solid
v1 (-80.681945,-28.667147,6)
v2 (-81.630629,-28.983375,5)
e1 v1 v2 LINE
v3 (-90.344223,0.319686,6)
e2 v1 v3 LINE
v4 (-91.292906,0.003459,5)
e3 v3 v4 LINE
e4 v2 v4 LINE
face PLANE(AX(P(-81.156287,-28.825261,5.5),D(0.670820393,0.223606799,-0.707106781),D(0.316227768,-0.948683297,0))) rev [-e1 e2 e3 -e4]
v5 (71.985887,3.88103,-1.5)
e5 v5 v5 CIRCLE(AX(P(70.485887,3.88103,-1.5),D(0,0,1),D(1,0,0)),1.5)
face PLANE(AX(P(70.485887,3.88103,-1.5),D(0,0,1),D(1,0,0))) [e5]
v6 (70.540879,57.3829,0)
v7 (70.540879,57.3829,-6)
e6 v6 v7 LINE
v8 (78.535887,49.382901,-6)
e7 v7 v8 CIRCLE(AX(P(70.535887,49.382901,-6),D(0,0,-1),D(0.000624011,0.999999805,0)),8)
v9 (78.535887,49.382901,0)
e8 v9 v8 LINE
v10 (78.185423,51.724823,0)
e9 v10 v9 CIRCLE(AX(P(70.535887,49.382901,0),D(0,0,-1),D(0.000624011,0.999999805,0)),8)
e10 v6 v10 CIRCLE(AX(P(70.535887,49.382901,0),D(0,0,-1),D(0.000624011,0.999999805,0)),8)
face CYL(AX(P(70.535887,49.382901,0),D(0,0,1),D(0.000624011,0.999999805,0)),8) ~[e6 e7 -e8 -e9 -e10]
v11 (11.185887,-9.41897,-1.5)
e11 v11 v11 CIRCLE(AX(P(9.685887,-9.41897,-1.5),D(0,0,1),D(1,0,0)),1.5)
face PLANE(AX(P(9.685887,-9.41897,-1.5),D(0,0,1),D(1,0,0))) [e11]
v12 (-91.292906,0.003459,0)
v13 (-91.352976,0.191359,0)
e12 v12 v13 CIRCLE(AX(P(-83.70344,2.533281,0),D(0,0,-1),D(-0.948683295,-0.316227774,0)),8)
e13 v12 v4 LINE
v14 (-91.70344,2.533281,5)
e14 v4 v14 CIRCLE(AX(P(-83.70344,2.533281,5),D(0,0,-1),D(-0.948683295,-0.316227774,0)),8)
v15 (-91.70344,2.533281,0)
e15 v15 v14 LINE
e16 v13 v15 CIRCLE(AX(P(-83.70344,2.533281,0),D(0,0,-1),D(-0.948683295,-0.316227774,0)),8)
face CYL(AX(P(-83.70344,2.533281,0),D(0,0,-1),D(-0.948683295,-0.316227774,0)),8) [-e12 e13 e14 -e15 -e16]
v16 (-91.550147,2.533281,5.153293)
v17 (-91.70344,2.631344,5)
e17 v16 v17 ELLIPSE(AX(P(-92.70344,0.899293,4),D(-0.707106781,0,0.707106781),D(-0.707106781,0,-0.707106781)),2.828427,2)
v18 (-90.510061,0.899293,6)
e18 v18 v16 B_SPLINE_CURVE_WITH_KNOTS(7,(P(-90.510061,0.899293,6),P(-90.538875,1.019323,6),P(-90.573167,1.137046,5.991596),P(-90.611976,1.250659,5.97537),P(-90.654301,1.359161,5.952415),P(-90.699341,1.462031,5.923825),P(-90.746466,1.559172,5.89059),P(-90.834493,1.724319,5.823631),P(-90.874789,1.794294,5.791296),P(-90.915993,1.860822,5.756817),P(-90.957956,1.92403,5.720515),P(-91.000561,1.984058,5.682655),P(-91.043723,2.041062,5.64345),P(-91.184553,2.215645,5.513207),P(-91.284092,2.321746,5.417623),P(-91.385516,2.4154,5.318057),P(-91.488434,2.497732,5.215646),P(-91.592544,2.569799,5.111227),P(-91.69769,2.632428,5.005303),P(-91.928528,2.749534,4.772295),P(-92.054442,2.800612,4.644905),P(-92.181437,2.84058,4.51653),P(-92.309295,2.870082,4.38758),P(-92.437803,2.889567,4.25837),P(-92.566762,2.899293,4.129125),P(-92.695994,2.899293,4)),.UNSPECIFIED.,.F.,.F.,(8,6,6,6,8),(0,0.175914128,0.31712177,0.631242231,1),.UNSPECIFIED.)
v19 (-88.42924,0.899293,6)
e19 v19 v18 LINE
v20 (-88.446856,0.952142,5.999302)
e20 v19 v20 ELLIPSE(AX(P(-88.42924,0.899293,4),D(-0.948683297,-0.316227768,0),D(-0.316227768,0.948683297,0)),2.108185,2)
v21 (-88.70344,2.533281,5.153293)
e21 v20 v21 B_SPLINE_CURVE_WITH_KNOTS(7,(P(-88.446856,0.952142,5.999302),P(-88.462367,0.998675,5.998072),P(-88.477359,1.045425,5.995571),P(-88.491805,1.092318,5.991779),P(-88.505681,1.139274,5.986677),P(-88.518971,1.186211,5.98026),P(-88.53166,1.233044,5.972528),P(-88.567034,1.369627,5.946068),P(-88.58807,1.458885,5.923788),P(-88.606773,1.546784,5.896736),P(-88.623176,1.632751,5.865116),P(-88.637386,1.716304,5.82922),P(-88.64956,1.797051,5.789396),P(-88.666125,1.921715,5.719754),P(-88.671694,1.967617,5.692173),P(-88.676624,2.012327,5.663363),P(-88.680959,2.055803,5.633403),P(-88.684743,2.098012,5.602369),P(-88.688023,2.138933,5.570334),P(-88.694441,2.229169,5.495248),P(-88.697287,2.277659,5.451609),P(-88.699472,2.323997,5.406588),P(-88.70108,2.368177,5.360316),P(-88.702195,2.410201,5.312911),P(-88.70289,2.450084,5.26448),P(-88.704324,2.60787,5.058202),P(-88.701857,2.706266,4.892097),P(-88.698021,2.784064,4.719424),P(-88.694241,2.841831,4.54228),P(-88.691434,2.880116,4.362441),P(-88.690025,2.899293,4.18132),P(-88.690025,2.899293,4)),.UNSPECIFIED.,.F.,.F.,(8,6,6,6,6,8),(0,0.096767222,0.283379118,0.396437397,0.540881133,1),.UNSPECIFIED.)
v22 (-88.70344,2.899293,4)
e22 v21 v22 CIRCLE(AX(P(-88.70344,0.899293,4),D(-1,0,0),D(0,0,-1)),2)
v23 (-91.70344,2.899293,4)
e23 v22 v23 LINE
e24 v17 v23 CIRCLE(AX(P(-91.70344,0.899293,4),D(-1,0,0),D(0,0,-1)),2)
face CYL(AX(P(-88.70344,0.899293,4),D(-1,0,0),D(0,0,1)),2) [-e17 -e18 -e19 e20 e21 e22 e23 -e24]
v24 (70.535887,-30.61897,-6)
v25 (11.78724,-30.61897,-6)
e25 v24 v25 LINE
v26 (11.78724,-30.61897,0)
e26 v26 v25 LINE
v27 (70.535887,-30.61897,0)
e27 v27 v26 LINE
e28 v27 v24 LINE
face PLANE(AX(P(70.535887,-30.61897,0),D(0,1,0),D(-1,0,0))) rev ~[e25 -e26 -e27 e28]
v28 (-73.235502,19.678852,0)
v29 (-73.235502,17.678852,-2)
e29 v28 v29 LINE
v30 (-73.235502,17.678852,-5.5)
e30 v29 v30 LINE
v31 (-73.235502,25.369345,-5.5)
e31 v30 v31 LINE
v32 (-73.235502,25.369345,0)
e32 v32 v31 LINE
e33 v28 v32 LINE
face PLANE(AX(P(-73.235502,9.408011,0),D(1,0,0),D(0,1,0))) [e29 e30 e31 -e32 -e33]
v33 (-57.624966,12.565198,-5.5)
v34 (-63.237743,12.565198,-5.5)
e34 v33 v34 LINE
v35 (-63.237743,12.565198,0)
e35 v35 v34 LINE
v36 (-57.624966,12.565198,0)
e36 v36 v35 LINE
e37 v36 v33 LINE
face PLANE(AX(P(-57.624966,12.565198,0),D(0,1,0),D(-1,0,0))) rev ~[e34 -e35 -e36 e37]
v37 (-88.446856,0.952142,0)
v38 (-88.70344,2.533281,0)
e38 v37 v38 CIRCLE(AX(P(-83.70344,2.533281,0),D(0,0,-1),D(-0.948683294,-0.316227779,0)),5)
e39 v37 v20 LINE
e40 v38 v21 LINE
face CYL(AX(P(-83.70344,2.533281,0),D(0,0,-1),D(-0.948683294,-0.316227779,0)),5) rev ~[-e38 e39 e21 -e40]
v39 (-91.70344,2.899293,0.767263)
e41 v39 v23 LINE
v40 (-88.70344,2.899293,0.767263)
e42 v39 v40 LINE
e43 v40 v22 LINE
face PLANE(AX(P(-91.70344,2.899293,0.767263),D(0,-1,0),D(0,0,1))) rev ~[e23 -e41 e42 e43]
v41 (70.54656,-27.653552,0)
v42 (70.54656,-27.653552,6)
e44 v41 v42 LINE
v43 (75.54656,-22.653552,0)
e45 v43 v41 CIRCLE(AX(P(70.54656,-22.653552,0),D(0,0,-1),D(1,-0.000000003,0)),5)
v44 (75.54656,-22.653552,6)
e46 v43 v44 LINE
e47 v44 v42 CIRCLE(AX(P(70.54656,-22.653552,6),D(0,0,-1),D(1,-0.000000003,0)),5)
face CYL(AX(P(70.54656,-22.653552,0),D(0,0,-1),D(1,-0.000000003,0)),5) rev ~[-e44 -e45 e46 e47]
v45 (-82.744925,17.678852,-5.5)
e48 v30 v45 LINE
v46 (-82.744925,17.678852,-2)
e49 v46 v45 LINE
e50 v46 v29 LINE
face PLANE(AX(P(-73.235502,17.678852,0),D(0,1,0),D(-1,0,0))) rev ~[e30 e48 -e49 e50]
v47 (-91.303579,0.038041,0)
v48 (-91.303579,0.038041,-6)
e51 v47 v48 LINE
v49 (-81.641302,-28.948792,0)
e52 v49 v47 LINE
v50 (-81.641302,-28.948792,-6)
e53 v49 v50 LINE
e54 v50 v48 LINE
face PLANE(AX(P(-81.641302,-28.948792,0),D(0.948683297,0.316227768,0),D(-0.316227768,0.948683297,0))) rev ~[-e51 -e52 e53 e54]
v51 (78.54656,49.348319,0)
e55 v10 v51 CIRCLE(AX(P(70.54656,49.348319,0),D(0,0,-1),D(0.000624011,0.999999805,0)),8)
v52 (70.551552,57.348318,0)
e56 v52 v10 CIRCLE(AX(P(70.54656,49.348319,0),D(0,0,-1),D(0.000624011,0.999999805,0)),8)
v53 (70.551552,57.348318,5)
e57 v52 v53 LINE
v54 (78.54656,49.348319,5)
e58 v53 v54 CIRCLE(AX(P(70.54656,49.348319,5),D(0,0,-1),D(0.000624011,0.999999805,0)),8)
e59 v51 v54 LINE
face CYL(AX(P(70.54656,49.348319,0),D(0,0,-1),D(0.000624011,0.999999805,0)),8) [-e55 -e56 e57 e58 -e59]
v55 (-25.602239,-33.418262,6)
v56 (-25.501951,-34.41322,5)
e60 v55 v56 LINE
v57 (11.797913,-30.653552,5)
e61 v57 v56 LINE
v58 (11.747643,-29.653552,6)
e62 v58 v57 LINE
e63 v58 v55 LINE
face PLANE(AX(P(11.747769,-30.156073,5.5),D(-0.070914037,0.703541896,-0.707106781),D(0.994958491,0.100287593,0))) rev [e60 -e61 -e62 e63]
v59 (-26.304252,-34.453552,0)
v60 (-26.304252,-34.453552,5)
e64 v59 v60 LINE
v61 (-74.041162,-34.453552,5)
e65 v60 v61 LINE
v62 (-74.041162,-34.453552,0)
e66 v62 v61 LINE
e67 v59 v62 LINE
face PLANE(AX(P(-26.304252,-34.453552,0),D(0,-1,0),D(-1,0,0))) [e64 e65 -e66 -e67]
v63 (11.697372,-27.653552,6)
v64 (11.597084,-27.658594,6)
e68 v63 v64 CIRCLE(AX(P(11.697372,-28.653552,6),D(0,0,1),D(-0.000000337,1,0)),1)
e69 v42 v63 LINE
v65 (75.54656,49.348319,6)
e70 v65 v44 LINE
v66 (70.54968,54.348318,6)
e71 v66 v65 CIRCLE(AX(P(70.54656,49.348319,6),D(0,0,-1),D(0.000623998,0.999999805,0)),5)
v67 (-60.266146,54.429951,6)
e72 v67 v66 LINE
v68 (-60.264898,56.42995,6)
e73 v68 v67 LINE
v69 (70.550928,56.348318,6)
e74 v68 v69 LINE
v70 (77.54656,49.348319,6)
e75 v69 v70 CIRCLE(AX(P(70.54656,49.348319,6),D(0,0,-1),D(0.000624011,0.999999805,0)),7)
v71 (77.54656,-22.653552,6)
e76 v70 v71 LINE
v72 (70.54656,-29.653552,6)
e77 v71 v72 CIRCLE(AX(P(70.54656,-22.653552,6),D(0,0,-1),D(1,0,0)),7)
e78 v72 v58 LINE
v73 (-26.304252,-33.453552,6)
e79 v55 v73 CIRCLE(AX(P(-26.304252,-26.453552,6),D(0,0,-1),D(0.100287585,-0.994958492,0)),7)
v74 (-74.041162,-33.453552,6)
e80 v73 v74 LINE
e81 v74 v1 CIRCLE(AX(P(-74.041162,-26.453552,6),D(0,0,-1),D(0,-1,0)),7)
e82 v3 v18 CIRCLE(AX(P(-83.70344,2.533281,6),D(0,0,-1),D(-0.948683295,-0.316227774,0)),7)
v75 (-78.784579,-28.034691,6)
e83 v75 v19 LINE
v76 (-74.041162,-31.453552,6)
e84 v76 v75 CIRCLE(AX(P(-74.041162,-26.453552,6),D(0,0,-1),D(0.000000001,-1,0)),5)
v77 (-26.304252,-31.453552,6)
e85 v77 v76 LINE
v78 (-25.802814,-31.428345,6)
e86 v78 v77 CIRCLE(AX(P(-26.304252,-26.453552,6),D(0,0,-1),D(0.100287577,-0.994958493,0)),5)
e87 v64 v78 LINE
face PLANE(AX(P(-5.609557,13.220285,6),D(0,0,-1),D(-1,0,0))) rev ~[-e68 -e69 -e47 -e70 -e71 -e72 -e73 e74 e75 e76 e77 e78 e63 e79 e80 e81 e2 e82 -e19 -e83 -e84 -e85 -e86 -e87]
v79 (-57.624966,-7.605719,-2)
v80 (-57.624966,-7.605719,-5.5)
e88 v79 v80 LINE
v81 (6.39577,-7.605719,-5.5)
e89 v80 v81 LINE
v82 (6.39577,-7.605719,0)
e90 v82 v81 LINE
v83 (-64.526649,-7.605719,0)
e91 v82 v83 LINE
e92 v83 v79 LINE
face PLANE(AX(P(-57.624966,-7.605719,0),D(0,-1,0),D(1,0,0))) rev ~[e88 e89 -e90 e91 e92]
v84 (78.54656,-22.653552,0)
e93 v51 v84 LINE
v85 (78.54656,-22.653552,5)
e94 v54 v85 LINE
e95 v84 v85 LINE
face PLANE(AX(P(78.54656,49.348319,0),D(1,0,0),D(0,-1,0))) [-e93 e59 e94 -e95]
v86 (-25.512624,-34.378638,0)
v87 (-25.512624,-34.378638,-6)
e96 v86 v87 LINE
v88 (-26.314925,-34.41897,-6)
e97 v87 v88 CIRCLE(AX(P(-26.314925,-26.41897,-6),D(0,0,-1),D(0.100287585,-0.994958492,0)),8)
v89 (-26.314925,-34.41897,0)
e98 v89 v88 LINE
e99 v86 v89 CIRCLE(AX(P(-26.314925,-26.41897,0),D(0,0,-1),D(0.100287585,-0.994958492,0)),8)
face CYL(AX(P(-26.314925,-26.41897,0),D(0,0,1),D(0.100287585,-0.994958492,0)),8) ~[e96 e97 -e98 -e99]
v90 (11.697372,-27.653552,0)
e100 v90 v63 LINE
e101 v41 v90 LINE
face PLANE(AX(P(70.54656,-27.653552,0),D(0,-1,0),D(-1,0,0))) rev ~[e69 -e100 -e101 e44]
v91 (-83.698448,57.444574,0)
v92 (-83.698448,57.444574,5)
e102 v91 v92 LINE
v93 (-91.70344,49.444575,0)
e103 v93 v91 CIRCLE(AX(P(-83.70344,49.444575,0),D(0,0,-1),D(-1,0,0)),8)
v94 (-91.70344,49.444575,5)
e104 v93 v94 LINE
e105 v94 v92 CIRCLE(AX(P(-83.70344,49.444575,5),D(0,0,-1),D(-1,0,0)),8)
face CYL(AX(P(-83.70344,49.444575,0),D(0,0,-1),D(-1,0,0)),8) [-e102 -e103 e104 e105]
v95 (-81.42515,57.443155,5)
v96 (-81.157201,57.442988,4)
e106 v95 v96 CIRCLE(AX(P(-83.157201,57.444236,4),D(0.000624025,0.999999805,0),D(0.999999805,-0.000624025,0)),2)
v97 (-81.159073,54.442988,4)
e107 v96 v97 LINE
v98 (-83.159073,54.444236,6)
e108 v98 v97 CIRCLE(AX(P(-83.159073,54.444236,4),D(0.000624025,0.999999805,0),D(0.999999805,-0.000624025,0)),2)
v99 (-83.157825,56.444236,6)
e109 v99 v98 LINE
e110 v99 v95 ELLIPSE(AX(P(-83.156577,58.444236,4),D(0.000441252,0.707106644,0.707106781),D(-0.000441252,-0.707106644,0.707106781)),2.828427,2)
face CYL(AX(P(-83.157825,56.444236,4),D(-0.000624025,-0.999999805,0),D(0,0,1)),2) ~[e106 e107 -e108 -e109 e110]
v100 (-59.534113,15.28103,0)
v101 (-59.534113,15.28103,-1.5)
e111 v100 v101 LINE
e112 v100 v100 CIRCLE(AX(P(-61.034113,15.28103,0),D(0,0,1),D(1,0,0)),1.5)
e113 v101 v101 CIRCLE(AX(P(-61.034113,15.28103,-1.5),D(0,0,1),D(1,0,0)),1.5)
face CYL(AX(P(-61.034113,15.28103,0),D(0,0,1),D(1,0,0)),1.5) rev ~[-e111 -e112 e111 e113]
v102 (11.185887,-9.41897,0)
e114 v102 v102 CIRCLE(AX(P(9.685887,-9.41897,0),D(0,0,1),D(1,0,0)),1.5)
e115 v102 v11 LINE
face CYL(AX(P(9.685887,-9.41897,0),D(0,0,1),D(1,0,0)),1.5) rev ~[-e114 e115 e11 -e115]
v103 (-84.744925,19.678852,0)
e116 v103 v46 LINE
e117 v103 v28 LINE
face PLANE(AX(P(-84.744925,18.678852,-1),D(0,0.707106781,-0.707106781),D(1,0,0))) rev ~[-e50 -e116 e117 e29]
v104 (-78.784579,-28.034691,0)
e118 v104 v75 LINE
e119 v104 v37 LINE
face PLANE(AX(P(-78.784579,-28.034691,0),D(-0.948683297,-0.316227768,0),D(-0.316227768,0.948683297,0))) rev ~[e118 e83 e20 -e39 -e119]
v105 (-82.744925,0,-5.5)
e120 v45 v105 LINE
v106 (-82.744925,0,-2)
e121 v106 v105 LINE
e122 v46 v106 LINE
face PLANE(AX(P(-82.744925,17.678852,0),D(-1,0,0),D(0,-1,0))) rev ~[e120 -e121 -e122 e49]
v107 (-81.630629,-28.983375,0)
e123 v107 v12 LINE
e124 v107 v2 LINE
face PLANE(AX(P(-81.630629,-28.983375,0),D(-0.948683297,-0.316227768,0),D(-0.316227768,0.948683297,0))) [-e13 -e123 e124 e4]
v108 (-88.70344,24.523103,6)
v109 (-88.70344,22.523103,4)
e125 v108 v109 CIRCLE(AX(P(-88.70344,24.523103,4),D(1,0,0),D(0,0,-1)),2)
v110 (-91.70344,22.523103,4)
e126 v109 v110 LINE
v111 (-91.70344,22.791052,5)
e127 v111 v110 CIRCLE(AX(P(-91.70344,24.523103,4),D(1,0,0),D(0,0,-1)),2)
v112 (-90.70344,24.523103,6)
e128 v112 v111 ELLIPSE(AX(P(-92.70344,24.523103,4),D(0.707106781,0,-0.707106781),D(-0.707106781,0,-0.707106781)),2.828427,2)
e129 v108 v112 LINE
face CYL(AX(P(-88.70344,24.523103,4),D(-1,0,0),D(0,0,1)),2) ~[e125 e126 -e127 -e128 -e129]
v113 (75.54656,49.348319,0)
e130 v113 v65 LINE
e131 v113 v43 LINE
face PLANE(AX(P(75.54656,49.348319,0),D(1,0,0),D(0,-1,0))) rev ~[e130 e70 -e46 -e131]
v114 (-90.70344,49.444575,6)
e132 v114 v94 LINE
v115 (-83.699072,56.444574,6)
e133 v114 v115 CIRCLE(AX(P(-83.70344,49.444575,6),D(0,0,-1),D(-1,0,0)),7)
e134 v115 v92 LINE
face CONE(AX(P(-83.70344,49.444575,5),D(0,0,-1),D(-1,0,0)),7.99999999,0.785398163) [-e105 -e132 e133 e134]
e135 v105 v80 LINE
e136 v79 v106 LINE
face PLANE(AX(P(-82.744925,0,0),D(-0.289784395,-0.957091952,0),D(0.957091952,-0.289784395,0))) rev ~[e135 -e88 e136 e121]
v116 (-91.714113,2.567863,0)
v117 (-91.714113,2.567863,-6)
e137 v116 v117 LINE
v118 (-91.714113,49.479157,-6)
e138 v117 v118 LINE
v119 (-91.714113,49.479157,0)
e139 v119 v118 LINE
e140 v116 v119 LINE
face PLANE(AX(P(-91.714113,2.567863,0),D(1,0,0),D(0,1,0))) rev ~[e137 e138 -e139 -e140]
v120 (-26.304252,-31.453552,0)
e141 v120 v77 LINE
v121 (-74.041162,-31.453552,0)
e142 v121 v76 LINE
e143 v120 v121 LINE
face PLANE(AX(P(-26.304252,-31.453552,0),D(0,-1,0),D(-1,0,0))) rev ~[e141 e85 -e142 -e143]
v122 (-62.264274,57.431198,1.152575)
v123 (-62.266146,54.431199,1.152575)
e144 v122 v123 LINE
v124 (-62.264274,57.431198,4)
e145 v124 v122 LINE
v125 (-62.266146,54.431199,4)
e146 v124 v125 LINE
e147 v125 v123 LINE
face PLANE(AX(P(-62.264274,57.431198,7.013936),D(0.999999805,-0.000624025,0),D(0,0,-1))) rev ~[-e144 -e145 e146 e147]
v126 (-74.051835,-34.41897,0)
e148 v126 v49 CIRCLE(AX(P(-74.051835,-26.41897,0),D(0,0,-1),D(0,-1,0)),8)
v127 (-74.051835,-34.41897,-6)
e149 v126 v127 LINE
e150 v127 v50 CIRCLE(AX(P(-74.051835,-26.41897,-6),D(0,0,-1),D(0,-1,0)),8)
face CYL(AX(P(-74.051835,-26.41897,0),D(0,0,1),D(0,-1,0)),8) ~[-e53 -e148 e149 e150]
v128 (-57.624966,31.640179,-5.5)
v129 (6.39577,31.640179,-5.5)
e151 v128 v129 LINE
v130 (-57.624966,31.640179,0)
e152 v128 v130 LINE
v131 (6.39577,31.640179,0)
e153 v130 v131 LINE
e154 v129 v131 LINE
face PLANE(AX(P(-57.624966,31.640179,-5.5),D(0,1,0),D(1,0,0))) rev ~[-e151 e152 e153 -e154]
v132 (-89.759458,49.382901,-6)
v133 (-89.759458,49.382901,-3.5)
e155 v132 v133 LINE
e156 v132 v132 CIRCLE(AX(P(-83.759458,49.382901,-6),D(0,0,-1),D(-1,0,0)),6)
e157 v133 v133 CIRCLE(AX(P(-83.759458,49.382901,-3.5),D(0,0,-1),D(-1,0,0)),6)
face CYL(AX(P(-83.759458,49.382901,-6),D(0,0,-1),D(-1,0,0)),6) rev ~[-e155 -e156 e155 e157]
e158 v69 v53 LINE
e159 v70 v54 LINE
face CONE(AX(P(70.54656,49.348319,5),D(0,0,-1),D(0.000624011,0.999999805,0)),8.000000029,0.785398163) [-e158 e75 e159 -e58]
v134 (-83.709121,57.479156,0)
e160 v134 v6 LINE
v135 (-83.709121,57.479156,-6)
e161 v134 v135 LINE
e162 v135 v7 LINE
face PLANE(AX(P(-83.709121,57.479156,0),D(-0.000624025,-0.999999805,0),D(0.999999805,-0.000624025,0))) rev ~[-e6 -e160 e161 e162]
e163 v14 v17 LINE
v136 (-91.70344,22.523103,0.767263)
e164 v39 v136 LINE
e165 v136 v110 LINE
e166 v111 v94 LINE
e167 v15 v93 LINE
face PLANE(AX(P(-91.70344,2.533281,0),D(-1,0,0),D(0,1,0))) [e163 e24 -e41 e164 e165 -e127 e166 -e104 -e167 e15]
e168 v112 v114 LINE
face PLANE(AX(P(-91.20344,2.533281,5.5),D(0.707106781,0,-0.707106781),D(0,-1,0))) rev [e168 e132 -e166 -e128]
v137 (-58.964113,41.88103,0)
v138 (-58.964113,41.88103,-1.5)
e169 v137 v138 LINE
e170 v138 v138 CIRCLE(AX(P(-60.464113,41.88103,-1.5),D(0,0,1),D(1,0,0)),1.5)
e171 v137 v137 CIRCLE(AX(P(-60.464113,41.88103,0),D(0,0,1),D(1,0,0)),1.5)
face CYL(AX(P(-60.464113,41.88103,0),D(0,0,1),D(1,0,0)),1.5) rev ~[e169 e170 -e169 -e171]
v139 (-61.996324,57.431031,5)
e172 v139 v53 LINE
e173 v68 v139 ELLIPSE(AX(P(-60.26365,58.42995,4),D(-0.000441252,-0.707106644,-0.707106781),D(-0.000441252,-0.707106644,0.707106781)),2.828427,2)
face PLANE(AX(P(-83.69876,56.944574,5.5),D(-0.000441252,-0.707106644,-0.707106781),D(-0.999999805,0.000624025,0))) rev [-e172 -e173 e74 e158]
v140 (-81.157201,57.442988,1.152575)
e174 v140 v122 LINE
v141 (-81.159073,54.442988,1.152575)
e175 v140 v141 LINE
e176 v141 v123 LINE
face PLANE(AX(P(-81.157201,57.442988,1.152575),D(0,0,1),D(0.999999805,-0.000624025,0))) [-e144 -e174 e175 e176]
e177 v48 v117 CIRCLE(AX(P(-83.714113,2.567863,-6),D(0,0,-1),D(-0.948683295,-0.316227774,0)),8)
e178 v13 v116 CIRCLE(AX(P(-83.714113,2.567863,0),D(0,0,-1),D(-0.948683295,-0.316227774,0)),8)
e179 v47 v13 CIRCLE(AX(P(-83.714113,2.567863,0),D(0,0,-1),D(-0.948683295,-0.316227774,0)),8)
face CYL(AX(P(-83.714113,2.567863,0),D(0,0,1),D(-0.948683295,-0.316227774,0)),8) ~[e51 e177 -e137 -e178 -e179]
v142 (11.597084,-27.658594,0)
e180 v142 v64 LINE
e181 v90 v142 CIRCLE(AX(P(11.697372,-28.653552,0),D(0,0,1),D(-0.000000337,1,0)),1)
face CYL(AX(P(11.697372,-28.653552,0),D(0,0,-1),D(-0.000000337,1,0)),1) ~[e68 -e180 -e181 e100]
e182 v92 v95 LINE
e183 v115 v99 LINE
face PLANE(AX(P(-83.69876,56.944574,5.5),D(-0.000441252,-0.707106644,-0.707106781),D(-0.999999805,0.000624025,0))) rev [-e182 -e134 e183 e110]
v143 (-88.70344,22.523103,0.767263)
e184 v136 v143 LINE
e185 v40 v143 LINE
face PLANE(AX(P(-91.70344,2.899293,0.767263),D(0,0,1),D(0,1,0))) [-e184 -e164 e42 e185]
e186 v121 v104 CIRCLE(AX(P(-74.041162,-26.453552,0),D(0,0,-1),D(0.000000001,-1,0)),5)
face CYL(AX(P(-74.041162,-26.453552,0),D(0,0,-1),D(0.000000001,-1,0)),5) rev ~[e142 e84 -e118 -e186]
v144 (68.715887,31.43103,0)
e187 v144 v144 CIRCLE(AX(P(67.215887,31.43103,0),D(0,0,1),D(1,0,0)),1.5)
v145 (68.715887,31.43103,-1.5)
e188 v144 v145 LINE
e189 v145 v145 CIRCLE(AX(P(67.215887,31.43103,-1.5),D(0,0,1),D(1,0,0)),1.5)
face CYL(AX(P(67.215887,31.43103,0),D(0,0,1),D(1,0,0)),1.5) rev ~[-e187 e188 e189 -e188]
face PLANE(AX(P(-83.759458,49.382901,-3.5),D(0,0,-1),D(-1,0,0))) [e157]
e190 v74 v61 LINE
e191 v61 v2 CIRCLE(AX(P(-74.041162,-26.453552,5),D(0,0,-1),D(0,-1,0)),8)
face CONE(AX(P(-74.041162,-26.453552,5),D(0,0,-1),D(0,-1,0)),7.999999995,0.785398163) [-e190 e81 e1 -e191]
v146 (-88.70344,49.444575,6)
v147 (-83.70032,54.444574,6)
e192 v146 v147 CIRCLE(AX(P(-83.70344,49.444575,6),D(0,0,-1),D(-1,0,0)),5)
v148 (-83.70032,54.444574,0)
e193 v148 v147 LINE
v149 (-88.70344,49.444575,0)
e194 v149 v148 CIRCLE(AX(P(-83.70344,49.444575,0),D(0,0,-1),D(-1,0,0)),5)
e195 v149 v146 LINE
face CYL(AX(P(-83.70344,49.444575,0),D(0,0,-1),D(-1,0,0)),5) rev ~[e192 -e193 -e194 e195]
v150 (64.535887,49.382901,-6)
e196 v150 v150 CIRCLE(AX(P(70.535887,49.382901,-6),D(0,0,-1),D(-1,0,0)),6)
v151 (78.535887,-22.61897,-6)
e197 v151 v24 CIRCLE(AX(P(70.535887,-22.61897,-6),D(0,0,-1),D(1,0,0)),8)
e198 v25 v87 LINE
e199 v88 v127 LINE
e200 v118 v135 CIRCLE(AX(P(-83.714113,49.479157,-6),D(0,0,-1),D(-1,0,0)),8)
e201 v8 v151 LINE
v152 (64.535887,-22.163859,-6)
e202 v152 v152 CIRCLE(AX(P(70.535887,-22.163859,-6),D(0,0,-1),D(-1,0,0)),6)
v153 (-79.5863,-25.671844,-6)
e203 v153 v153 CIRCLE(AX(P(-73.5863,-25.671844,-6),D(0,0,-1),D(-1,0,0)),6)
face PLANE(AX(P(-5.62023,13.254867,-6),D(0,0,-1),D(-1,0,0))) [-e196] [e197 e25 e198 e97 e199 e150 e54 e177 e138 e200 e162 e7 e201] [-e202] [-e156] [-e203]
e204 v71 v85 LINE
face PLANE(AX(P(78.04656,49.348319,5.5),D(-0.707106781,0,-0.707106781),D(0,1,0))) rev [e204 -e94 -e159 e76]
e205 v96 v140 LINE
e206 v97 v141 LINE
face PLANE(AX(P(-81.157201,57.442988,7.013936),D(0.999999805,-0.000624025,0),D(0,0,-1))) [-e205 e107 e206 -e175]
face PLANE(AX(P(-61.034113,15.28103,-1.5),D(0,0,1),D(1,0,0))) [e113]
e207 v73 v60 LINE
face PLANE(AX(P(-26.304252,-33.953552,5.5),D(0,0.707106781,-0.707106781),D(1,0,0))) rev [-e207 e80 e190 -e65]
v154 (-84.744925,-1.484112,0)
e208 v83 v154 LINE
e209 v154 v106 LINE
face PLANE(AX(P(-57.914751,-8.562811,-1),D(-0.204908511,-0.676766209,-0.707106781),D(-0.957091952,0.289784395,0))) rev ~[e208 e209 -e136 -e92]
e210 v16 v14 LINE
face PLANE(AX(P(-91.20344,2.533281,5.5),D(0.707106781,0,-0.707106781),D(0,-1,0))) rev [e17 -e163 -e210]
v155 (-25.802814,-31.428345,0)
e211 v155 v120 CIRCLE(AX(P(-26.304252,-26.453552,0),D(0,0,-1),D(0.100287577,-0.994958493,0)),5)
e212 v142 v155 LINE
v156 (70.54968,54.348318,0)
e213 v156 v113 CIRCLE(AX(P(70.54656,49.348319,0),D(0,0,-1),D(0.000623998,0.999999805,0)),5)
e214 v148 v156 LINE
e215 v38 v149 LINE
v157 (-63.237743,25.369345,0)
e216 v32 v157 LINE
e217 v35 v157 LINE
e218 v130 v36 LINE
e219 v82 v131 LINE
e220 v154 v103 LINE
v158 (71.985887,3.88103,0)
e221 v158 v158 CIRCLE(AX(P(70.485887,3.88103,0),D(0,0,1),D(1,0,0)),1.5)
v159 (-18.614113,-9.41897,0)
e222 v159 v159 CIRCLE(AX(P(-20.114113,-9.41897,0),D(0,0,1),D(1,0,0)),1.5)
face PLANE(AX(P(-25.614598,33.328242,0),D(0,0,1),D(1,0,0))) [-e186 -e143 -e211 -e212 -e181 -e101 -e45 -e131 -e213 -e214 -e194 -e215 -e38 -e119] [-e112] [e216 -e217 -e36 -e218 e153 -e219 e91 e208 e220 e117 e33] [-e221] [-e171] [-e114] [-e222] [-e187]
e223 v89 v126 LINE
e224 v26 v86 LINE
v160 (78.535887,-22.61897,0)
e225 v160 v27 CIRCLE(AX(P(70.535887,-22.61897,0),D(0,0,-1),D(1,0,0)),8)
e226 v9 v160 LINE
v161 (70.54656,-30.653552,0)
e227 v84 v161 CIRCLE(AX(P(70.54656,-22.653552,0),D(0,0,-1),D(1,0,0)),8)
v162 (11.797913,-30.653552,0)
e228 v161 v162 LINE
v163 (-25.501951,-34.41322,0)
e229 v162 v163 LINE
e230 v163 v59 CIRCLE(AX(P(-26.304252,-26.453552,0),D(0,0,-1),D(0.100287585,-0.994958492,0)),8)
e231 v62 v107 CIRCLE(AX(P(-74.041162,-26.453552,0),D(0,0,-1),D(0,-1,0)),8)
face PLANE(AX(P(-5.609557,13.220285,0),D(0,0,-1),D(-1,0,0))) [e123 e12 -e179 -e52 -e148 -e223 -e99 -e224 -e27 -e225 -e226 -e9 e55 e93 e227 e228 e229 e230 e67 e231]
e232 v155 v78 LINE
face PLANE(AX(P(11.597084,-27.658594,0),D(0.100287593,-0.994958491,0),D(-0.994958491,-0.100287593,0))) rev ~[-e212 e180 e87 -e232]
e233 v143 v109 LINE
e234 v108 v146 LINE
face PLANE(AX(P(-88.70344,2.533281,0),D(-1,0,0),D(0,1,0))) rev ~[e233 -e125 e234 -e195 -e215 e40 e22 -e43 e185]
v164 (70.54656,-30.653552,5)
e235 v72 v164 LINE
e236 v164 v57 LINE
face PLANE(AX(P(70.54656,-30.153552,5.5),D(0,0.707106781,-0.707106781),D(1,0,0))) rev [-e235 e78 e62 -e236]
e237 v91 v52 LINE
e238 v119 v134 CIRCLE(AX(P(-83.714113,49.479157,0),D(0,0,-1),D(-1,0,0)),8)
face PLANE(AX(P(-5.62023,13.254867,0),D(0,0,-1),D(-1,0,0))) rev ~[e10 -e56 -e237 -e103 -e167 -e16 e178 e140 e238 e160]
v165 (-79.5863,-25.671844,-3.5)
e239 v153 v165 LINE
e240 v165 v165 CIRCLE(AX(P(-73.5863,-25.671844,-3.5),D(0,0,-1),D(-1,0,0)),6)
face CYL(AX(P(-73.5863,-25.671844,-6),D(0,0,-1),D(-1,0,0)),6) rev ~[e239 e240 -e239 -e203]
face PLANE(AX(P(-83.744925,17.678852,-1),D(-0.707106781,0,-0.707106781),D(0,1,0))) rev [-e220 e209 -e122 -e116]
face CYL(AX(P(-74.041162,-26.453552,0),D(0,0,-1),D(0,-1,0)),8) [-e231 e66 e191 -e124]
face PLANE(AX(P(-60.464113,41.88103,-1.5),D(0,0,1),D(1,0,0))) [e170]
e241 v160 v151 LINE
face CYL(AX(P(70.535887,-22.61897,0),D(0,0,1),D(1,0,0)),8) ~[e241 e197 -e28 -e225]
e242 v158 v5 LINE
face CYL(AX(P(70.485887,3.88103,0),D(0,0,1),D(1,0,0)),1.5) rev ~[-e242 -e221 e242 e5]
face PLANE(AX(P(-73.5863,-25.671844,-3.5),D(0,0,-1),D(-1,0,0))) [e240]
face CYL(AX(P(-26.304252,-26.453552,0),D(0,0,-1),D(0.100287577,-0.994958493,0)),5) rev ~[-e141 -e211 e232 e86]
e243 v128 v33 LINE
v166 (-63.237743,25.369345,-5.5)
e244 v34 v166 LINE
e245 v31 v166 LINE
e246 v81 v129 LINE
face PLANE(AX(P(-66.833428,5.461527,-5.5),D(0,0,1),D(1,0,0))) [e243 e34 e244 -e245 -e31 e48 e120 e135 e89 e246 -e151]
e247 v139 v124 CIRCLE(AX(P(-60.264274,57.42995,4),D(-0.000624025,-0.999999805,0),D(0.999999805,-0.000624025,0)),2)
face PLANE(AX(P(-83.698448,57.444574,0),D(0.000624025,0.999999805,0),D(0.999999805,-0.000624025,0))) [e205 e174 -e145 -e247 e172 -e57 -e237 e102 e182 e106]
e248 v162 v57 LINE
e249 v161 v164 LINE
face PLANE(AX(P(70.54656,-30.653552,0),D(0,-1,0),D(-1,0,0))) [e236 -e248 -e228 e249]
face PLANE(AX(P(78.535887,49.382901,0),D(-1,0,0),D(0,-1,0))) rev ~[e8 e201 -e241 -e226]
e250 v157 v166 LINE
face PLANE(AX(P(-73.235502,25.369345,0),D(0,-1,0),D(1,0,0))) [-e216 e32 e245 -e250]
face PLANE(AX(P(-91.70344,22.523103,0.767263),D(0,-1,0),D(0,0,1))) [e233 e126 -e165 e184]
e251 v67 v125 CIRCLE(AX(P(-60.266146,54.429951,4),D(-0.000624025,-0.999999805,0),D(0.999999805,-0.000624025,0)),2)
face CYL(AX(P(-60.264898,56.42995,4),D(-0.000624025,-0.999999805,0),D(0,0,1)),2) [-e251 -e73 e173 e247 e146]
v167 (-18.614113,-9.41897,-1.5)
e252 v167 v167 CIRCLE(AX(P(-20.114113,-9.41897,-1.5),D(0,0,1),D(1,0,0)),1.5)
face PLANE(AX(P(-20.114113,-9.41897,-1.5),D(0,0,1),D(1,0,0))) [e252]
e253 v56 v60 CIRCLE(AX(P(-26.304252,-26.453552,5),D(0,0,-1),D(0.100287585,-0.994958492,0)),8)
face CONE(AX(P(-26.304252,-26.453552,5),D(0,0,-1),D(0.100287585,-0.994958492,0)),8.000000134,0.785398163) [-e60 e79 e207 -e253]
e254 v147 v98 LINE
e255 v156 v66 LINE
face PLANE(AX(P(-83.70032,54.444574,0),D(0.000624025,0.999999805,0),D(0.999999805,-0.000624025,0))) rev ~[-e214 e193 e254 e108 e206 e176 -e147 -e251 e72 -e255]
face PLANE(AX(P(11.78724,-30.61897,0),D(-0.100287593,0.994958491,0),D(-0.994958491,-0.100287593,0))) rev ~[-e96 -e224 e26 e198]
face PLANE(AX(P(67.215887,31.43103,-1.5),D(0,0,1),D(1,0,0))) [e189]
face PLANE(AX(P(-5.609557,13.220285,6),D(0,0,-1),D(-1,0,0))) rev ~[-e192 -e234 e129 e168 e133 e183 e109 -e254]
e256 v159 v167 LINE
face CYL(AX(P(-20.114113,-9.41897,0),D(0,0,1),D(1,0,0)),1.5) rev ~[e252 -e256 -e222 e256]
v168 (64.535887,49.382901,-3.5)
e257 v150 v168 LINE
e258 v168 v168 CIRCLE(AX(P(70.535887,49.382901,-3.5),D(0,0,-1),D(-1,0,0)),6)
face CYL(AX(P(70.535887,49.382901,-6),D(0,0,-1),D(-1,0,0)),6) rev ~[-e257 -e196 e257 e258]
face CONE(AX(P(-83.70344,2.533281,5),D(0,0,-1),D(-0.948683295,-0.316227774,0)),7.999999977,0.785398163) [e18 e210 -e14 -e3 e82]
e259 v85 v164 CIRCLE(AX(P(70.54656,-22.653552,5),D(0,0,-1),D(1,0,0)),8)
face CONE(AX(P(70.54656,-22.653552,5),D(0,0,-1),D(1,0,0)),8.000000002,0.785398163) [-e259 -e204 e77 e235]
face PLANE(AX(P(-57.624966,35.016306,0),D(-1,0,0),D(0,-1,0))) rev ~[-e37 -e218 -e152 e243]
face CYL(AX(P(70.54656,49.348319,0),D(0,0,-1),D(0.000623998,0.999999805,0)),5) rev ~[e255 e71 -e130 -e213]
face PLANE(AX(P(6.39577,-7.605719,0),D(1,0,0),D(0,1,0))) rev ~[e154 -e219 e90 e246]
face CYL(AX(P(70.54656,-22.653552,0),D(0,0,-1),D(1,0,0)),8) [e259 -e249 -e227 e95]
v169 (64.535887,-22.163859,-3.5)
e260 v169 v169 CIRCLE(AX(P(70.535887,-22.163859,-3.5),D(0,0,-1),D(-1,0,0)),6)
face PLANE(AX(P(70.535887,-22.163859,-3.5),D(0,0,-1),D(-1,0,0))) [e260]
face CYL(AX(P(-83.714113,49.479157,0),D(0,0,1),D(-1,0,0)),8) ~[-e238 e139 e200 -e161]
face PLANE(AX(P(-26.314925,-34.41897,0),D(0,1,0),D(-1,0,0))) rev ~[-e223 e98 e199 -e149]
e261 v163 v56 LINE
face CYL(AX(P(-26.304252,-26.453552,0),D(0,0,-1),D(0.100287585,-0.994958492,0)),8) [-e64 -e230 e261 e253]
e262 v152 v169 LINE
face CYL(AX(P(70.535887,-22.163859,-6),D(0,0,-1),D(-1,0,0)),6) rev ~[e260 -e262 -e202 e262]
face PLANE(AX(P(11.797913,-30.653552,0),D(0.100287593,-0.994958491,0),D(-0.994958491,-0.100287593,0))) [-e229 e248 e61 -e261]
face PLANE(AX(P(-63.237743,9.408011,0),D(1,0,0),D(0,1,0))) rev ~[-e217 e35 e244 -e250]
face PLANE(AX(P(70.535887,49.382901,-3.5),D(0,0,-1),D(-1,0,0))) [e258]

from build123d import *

# Parameters (mm, degrees)
BOSS_EXTRUDE1_DEPTH = 6
SKETCH4_R           = 1
BOSS_EXTRUDE2_DEPTH = 6
SKETCH5_W           = 18.416924118
SKETCH5_H           = 14.207341462
SKETCH5_W_2         = 7.542168924
CUT_EXTRUDE2_DEPTH  = 5.5
BOSS_EXTRUDE3_START = -5.5
SKETCH6_R           = 1
BOSS_EXTRUDE3_DEPTH = 5.5
SKETCH7_R           = 1.5
CUT_EXTRUDE3_DEPTH  = 1.5
SKETCH8_R           = 6
CUT_EXTRUDE4_DEPTH  = 2.5
CHAMFER1_SIZE       = 1
SKETCH9_W           = 18.892930983
SKETCH9_H           = 5.861361118
CUT_EXTRUDE5_DEPTH  = 5
FILLET1_R           = 2
SKETCH10_W          = 6.781572577
SKETCH10_H          = 19.62380987
CUT_EXTRUDE6_DEPTH  = 5
FILLET2_R           = 2
SKETCH11_W          = 9.997758807
SKETCH11_H          = 15.961334235
CUT_EXTRUDE7_DEPTH  = 5.5
SKETCH12_W          = 64.020736218
SKETCH12_H          = 3.376126478
BOSS_EXTRUDE4_DEPTH = 5.5
CUT_EXTRUDE8_DEPTH  = 5.5
CHAMFER2_SIZE       = 2
CHAMFER3_SIZE       = 2
CHAMFER4_SIZE       = 2


with BuildPart() as part:
    # Sketch3 → Boss-Extrude1 (new body)
    with BuildSketch(Plane.XY):
        with BuildLine():
            Line((-83.698447841, 57.444573542), (70.551552159, 57.348317742))
            ThreePointArc((70.551552159, 57.348317742), (76.205179029, 55.0034083), (78.546560098, 49.348319285))
            Line((78.546560098, 49.348319285), (78.546560098, -22.653552215))
            ThreePointArc((78.546560098, -22.653552215), (76.203414347, -28.310406464), (70.546560098, -30.653552215))
            Line((70.546560098, -30.653552215), (11.797913198, -30.653552215))
            Line((11.797913198, -30.653552215), (-25.501951002, -34.413220215))
            ThreePointArc((-25.501951002, -34.413220215), (-25.902594791, -34.443462903), (-26.304251697, -34.453552282))
            Line((-26.304251697, -34.453552282), (-74.041162197, -34.453552282))
            ThreePointArc((-74.041162197, -34.453552282), (-78.718844372, -32.943489837), (-81.6306285, -28.983374648))
            Line((-81.6306285, -28.983374648), (-91.292906294, 0.003458516))
            ThreePointArc((-91.292906294, 0.003458516), (-91.600139587, 1.251822731), (-91.703439931, 2.53328071))
            Line((-91.703439931, 2.53328071), (-91.703439931, 49.44457511))
            ThreePointArc((-91.703439931, 49.44457511), (-89.358528934, 55.103194051), (-83.698447841, 57.444573542))
        make_face()
        with BuildLine():
            Line((-83.700319941, 54.444574123), (70.549680059, 54.348318323))
            ThreePointArc((70.549680059, 54.348318323), (74.083196904, 52.882749939), (75.546560095, 49.348319271))
            Line((75.546560095, 49.348319271), (75.546560095, -22.653552229))
            ThreePointArc((75.546560095, -22.653552229), (74.082093996, -26.189086124), (70.546560098, -27.653552212))
            Line((70.546560098, -27.653552212), (11.697371898, -27.653552212))
            ThreePointArc((11.697371898, -27.653552212), (11.64716478, -27.654813402), (11.597084303, -27.658593757))
            Line((11.597084303, -27.658593757), (-25.802813799, -31.428344747))
            ThreePointArc((-25.802813799, -31.428344747), (-26.053216149, -31.447246424), (-26.304251697, -31.453552285))
            Line((-26.304251697, -31.453552285), (-74.041162197, -31.453552285))
            ThreePointArc((-74.041162197, -31.453552285), (-76.964713558, -30.509763257), (-78.784578638, -28.034691263))
            Line((-78.784578638, -28.034691263), (-88.446856397, 0.952141815))
            ThreePointArc((-88.446856397, 0.952141815), (-88.638877211, 1.732369461), (-88.703439928, 2.53328071))
            Line((-88.703439928, 2.53328071), (-88.703439928, 49.44457511))
            ThreePointArc((-88.703439928, 49.44457511), (-87.237870579, 52.981211921), (-83.700319941, 54.444574123))
        make_face(mode=Mode.SUBTRACT)
    extrude(amount=BOSS_EXTRUDE1_DEPTH)

    # Sketch4 → Boss-Extrude2 (add)
    # profile 1 of 2: a face of its own
    with BuildSketch(Plane.XY):
        with BuildLine():
            Line((-83.709120873, 57.479155754), (70.540879127, 57.382899954))
            ThreePointArc((70.540879127, 57.382899954), (76.194505997, 55.037990512), (78.535887066, 49.382901497))
            Line((78.535887066, 49.382901497), (78.535887066, -22.618970003))
            ThreePointArc((78.535887066, -22.618970003), (76.192741315, -28.275824252), (70.535887066, -30.618970003))
            Line((70.535887066, -30.618970003), (11.787240166, -30.618970003))
            Line((11.787240166, -30.618970003), (-25.512624034, -34.378638003))
            ThreePointArc((-25.512624034, -34.378638003), (-25.913267823, -34.408880691), (-26.314924729, -34.41897007))
            Line((-26.314924729, -34.41897007), (-74.051835229, -34.41897007))
            ThreePointArc((-74.051835229, -34.41897007), (-78.729517404, -32.908907625), (-81.641301532, -28.948792436))
            Line((-81.641301532, -28.948792436), (-91.303579326, 0.038040728))
            ThreePointArc((-91.303579326, 0.038040728), (-91.610812619, 1.286404943), (-91.714112963, 2.567862922))
            Line((-91.714112963, 2.567862922), (-91.714112963, 49.479157322))
            ThreePointArc((-91.714112963, 49.479157322), (-89.369201966, 55.137776263), (-83.709120873, 57.479155754))
        make_face()
        with BuildLine():
            ThreePointArc((-83.710992973, 54.479156335), (-87.248543611, 53.015794133), (-88.71411296, 49.479157322))
            Line((-88.71411296, 49.479157322), (-88.71411296, 2.567862922))
            ThreePointArc((-88.71411296, 2.567862922), (-88.649550243, 1.766951673), (-88.457529429, 0.986724027))
            Line((-88.457529429, 0.986724027), (-78.79525167, -28.000109051))
            ThreePointArc((-78.79525167, -28.000109051), (-76.97538659, -30.475181045), (-74.051835229, -31.418970073))
            Line((-74.051835229, -31.418970073), (-26.314924729, -31.418970073))
            ThreePointArc((-26.314924729, -31.418970073), (-26.063889181, -31.412664212), (-25.813486831, -31.393762535))
            Line((-25.813486831, -31.393762535), (11.586411271, -27.624011544))
            ThreePointArc((11.586411271, -27.624011544), (11.636491748, -27.62023119), (11.686698866, -27.61897))
            Line((11.686698866, -27.61897), (70.535887066, -27.61897))
            ThreePointArc((70.535887066, -27.61897), (74.071420964, -26.154503912), (75.535887062, -22.618970017))
            Line((75.535887062, -22.618970017), (75.535887062, 49.382901483))
            ThreePointArc((75.535887062, 49.382901483), (74.072523872, 52.917332152), (70.539007027, 54.382900535))
            Line((70.539007027, 54.382900535), (-83.710992973, 54.479156335))
        make_face(mode=Mode.SUBTRACT)
    # profile 2 of 2: a face of its own
    with BuildSketch(Plane.XY):
        with BuildLine():
            Line((-83.710992973, 54.479156335), (70.539007027, 54.382900535))
            ThreePointArc((70.539007027, 54.382900535), (74.072523872, 52.917332152), (75.535887062, 49.382901483))
            Line((75.535887062, 49.382901483), (75.535887062, -22.618970017))
            ThreePointArc((75.535887062, -22.618970017), (74.071420964, -26.154503912), (70.535887066, -27.61897))
            Line((70.535887066, -27.61897), (11.686698866, -27.61897))
            ThreePointArc((11.686698866, -27.61897), (11.636491748, -27.62023119), (11.586411271, -27.624011544))
            Line((11.586411271, -27.624011544), (-25.813486831, -31.393762535))
            ThreePointArc((-25.813486831, -31.393762535), (-26.063889181, -31.412664212), (-26.314924729, -31.418970073))
            Line((-26.314924729, -31.418970073), (-74.051835229, -31.418970073))
            ThreePointArc((-74.051835229, -31.418970073), (-76.97538659, -30.475181045), (-78.79525167, -28.000109051))
            Line((-78.79525167, -28.000109051), (-88.457529429, 0.986724027))
            ThreePointArc((-88.457529429, 0.986724027), (-88.649550243, 1.766951673), (-88.71411296, 2.567862922))
            Line((-88.71411296, 2.567862922), (-88.71411296, 49.479157322))
            ThreePointArc((-88.71411296, 49.479157322), (-87.248543611, 53.015794133), (-83.710992973, 54.479156335))
        make_face()
        with Locations((67.215887037, 31.431029922)):
            Circle(SKETCH4_R, mode=Mode.SUBTRACT)
        with Locations((70.485887037, 3.881029922)):
            Circle(SKETCH4_R, mode=Mode.SUBTRACT)
        with Locations((9.685887037, -9.418970078)):
            Circle(SKETCH4_R, mode=Mode.SUBTRACT)
        with Locations((-20.114112963, -9.418970078)):
            Circle(SKETCH4_R, mode=Mode.SUBTRACT)
        with Locations((-61.034112963, 15.281029922)):
            Circle(SKETCH4_R, mode=Mode.SUBTRACT)
        with Locations((-60.464112963, 41.881029922)):
            Circle(SKETCH4_R, mode=Mode.SUBTRACT)
    extrude(amount=-BOSS_EXTRUDE2_DEPTH)

    # Sketch5 → Cut-Extrude2 (cut)
    with BuildSketch(Plane.XY):
        with Locations((-66.833428189, 5.461527447)):
            Rectangle(SKETCH5_W, SKETCH5_H)
        with Locations((-53.853881668, 5.461527447)):
            Rectangle(SKETCH5_W_2, SKETCH5_H)
        Polygon((6.395770088, 35.016305674), (-57.62496613, 35.016305674), (-57.62496613, 12.565198178), (-50.082797206, 12.565198178), (-50.082797206, -1.642143284), (-57.62496613, -1.642143284), (-57.62496613, -7.605718712), (6.395770088, -7.605718712), align=None)
    extrude(amount=-CUT_EXTRUDE2_DEPTH, mode=Mode.SUBTRACT)

    # Sketch6 → Boss-Extrude3 (add)
    with BuildSketch(Plane(origin=(0, 0, -6), x_dir=(-1, 0, 0), z_dir=(0, 0, -1)).offset(BOSS_EXTRUDE3_START)):
        with Locations(Location((-67.215887037, 31.431029922, 0), (0, 0, 180))):
            Circle(SKETCH6_R)
        with Locations(Location((-70.485887037, 3.881029922, 0), (0, 0, 180))):
            Circle(SKETCH6_R)
        with Locations(Location((-9.685887037, -9.418970078, 0), (0, 0, 180))):
            Circle(SKETCH6_R)
        with Locations(Location((20.114112963, -9.418970078, 0), (0, 0, 180))):
            Circle(SKETCH6_R)
        with Locations(Location((61.034112963, 15.281029922, 0), (0, 0, 180))):
            Circle(SKETCH6_R)
        with Locations(Location((60.464112963, 41.881029922, 0), (0, 0, 180))):
            Circle(SKETCH6_R)
    extrude(amount=BOSS_EXTRUDE3_DEPTH)

    # Sketch7 → Cut-Extrude3 (cut)
    with BuildSketch(Plane.XY):
        with Locations((-60.464112963, 41.881029922)):
            Circle(SKETCH7_R)
        with Locations((-61.034112963, 15.281029922)):
            Circle(SKETCH7_R)
        with Locations((-20.114112963, -9.418970078)):
            Circle(SKETCH7_R)
        with Locations((9.685887037, -9.418970078)):
            Circle(SKETCH7_R)
        with Locations((70.485887037, 3.881029922)):
            Circle(SKETCH7_R)
        with Locations((67.215887037, 31.431029922)):
            Circle(SKETCH7_R)
    extrude(amount=-CUT_EXTRUDE3_DEPTH, mode=Mode.SUBTRACT)

    # Sketch8 → Cut-Extrude4 (cut)
    with BuildSketch(Plane(origin=(0, 0, -6), x_dir=(-1, 0, 0), z_dir=(0, 0, -1))):
        with Locations((-70.535887037, 49.382901483)):
            Circle(SKETCH8_R)
        with Locations((-70.535887037, -22.163858729)):
            Circle(SKETCH8_R)
        with Locations((83.75945845, 49.382901483)):
            Circle(SKETCH8_R)
        with Locations((73.586300366, -25.671844276)):
            Circle(SKETCH8_R)
    extrude(amount=-CUT_EXTRUDE4_DEPTH, mode=Mode.SUBTRACT)

    # Chamfer1
    chamfer1_edges = [part.edges().sort_by_distance(p)[0] for p in [
        (-91.600139587, 1.251822731, 6),
        (-86.461767397, -14.489958066, 6),
        (-78.718844372, -32.943489837, 6),
        (-50.172706947, -34.453552282, 6),
        (-25.902594791, -34.443462903, 6),
        (-6.852018902, -32.533386215, 6),
        (41.172236648, -30.653552215, 6),
        (76.203414347, -28.310406464, 6),
        (78.546560098, 13.347383535, 6),
        (76.205179029, 55.0034083, 6),
        (-89.358528934, 55.103194051, 6),
        (-6.573447841, 57.396445642, 6),
        (-91.703439931, 25.98892791, 6),
    ]]
    chamfer(chamfer1_edges, length=CHAMFER1_SIZE)

    # Sketch9 → Cut-Extrude5 (cut)
    with BuildSketch(Plane(origin=(0.035814222, 57.392321299, 0), x_dir=(0.9999998052966842, -0.0006240245138326787, 0), z_dir=(0.0006240245138326787, 0.9999998052966842, 0))):
        with Locations((-71.746565454, -4.083255452)):
            Rectangle(SKETCH9_W, SKETCH9_H)
    extrude(amount=-CUT_EXTRUDE5_DEPTH, mode=Mode.SUBTRACT)

    # Fillet1
    fillet1_edges = [part.edges().sort_by_distance(p)[0] for p in [
        (-62.265521659, 55.431198477, 6),
        (-81.158448963, 55.442988129, 6),
    ]]
    fillet(fillet1_edges, radius=FILLET1_R)

    # Sketch10 → Cut-Extrude6 (cut)
    with BuildSketch(Plane.ZY.offset(91.703439931)):
        with Locations((4.158048933, 12.711198082)):
            Rectangle(SKETCH10_W, SKETCH10_H)
    extrude(amount=-CUT_EXTRUDE6_DEPTH, mode=Mode.SUBTRACT)

    # Fillet2
    fillet2_edges = [part.edges().sort_by_distance(p)[0] for p in [
        (-89.703439929, 2.899293147, 6),
        (-89.703439929, 22.523103017, 6),
    ]]
    fillet(fillet2_edges, radius=FILLET2_R)

    # Sketch11 → Cut-Extrude7 (cut)
    with BuildSketch(Plane.XY):
        with Locations((-68.236622408, 17.388678305)):
            Rectangle(SKETCH11_W, SKETCH11_H)
    extrude(amount=-CUT_EXTRUDE7_DEPTH, mode=Mode.SUBTRACT)

    # Sketch12 → Boss-Extrude4 (add)
    with BuildSketch(Plane.XY.offset(-5.5)):
        with Locations((-25.614598021, 33.328242435)):
            Rectangle(SKETCH12_W, SKETCH12_H)
    extrude(amount=BOSS_EXTRUDE4_DEPTH)

    # Sketch13 → Cut-Extrude8 (cut)
    with BuildSketch(Plane.XY):
        Polygon((-82.744925302, 17.678852462), (-82.744925302, 0), (-57.62496613, -7.605718712), (-57.62496613, -1.642143284), (-76.041890248, -1.642143284), (-76.041890248, 12.565198178), (-73.235501811, 12.565198178), (-73.235501811, 17.678852462), align=None)
    extrude(amount=-CUT_EXTRUDE8_DEPTH, mode=Mode.SUBTRACT)

    # Chamfer2
    chamfer2_edges = [part.edges().sort_by_distance(p)[0] for p in [
        (-82.744925302, 8.839426231, 0),
    ]]
    chamfer(chamfer2_edges, length=CHAMFER2_SIZE)

    # Chamfer3
    chamfer3_edges = [part.edges().sort_by_distance(p)[0] for p in [
        (-78.990213556, 17.678852462, 0),
    ]]
    chamfer(chamfer3_edges, length=CHAMFER3_SIZE)

    # Chamfer4
    chamfer4_edges = [part.edges().sort_by_distance(p)[0] for p in [
        (-71.184945716, -3.500083438, 0),
    ]]
    chamfer(chamfer4_edges, length=CHAMFER4_SIZE)


solid = part.part
